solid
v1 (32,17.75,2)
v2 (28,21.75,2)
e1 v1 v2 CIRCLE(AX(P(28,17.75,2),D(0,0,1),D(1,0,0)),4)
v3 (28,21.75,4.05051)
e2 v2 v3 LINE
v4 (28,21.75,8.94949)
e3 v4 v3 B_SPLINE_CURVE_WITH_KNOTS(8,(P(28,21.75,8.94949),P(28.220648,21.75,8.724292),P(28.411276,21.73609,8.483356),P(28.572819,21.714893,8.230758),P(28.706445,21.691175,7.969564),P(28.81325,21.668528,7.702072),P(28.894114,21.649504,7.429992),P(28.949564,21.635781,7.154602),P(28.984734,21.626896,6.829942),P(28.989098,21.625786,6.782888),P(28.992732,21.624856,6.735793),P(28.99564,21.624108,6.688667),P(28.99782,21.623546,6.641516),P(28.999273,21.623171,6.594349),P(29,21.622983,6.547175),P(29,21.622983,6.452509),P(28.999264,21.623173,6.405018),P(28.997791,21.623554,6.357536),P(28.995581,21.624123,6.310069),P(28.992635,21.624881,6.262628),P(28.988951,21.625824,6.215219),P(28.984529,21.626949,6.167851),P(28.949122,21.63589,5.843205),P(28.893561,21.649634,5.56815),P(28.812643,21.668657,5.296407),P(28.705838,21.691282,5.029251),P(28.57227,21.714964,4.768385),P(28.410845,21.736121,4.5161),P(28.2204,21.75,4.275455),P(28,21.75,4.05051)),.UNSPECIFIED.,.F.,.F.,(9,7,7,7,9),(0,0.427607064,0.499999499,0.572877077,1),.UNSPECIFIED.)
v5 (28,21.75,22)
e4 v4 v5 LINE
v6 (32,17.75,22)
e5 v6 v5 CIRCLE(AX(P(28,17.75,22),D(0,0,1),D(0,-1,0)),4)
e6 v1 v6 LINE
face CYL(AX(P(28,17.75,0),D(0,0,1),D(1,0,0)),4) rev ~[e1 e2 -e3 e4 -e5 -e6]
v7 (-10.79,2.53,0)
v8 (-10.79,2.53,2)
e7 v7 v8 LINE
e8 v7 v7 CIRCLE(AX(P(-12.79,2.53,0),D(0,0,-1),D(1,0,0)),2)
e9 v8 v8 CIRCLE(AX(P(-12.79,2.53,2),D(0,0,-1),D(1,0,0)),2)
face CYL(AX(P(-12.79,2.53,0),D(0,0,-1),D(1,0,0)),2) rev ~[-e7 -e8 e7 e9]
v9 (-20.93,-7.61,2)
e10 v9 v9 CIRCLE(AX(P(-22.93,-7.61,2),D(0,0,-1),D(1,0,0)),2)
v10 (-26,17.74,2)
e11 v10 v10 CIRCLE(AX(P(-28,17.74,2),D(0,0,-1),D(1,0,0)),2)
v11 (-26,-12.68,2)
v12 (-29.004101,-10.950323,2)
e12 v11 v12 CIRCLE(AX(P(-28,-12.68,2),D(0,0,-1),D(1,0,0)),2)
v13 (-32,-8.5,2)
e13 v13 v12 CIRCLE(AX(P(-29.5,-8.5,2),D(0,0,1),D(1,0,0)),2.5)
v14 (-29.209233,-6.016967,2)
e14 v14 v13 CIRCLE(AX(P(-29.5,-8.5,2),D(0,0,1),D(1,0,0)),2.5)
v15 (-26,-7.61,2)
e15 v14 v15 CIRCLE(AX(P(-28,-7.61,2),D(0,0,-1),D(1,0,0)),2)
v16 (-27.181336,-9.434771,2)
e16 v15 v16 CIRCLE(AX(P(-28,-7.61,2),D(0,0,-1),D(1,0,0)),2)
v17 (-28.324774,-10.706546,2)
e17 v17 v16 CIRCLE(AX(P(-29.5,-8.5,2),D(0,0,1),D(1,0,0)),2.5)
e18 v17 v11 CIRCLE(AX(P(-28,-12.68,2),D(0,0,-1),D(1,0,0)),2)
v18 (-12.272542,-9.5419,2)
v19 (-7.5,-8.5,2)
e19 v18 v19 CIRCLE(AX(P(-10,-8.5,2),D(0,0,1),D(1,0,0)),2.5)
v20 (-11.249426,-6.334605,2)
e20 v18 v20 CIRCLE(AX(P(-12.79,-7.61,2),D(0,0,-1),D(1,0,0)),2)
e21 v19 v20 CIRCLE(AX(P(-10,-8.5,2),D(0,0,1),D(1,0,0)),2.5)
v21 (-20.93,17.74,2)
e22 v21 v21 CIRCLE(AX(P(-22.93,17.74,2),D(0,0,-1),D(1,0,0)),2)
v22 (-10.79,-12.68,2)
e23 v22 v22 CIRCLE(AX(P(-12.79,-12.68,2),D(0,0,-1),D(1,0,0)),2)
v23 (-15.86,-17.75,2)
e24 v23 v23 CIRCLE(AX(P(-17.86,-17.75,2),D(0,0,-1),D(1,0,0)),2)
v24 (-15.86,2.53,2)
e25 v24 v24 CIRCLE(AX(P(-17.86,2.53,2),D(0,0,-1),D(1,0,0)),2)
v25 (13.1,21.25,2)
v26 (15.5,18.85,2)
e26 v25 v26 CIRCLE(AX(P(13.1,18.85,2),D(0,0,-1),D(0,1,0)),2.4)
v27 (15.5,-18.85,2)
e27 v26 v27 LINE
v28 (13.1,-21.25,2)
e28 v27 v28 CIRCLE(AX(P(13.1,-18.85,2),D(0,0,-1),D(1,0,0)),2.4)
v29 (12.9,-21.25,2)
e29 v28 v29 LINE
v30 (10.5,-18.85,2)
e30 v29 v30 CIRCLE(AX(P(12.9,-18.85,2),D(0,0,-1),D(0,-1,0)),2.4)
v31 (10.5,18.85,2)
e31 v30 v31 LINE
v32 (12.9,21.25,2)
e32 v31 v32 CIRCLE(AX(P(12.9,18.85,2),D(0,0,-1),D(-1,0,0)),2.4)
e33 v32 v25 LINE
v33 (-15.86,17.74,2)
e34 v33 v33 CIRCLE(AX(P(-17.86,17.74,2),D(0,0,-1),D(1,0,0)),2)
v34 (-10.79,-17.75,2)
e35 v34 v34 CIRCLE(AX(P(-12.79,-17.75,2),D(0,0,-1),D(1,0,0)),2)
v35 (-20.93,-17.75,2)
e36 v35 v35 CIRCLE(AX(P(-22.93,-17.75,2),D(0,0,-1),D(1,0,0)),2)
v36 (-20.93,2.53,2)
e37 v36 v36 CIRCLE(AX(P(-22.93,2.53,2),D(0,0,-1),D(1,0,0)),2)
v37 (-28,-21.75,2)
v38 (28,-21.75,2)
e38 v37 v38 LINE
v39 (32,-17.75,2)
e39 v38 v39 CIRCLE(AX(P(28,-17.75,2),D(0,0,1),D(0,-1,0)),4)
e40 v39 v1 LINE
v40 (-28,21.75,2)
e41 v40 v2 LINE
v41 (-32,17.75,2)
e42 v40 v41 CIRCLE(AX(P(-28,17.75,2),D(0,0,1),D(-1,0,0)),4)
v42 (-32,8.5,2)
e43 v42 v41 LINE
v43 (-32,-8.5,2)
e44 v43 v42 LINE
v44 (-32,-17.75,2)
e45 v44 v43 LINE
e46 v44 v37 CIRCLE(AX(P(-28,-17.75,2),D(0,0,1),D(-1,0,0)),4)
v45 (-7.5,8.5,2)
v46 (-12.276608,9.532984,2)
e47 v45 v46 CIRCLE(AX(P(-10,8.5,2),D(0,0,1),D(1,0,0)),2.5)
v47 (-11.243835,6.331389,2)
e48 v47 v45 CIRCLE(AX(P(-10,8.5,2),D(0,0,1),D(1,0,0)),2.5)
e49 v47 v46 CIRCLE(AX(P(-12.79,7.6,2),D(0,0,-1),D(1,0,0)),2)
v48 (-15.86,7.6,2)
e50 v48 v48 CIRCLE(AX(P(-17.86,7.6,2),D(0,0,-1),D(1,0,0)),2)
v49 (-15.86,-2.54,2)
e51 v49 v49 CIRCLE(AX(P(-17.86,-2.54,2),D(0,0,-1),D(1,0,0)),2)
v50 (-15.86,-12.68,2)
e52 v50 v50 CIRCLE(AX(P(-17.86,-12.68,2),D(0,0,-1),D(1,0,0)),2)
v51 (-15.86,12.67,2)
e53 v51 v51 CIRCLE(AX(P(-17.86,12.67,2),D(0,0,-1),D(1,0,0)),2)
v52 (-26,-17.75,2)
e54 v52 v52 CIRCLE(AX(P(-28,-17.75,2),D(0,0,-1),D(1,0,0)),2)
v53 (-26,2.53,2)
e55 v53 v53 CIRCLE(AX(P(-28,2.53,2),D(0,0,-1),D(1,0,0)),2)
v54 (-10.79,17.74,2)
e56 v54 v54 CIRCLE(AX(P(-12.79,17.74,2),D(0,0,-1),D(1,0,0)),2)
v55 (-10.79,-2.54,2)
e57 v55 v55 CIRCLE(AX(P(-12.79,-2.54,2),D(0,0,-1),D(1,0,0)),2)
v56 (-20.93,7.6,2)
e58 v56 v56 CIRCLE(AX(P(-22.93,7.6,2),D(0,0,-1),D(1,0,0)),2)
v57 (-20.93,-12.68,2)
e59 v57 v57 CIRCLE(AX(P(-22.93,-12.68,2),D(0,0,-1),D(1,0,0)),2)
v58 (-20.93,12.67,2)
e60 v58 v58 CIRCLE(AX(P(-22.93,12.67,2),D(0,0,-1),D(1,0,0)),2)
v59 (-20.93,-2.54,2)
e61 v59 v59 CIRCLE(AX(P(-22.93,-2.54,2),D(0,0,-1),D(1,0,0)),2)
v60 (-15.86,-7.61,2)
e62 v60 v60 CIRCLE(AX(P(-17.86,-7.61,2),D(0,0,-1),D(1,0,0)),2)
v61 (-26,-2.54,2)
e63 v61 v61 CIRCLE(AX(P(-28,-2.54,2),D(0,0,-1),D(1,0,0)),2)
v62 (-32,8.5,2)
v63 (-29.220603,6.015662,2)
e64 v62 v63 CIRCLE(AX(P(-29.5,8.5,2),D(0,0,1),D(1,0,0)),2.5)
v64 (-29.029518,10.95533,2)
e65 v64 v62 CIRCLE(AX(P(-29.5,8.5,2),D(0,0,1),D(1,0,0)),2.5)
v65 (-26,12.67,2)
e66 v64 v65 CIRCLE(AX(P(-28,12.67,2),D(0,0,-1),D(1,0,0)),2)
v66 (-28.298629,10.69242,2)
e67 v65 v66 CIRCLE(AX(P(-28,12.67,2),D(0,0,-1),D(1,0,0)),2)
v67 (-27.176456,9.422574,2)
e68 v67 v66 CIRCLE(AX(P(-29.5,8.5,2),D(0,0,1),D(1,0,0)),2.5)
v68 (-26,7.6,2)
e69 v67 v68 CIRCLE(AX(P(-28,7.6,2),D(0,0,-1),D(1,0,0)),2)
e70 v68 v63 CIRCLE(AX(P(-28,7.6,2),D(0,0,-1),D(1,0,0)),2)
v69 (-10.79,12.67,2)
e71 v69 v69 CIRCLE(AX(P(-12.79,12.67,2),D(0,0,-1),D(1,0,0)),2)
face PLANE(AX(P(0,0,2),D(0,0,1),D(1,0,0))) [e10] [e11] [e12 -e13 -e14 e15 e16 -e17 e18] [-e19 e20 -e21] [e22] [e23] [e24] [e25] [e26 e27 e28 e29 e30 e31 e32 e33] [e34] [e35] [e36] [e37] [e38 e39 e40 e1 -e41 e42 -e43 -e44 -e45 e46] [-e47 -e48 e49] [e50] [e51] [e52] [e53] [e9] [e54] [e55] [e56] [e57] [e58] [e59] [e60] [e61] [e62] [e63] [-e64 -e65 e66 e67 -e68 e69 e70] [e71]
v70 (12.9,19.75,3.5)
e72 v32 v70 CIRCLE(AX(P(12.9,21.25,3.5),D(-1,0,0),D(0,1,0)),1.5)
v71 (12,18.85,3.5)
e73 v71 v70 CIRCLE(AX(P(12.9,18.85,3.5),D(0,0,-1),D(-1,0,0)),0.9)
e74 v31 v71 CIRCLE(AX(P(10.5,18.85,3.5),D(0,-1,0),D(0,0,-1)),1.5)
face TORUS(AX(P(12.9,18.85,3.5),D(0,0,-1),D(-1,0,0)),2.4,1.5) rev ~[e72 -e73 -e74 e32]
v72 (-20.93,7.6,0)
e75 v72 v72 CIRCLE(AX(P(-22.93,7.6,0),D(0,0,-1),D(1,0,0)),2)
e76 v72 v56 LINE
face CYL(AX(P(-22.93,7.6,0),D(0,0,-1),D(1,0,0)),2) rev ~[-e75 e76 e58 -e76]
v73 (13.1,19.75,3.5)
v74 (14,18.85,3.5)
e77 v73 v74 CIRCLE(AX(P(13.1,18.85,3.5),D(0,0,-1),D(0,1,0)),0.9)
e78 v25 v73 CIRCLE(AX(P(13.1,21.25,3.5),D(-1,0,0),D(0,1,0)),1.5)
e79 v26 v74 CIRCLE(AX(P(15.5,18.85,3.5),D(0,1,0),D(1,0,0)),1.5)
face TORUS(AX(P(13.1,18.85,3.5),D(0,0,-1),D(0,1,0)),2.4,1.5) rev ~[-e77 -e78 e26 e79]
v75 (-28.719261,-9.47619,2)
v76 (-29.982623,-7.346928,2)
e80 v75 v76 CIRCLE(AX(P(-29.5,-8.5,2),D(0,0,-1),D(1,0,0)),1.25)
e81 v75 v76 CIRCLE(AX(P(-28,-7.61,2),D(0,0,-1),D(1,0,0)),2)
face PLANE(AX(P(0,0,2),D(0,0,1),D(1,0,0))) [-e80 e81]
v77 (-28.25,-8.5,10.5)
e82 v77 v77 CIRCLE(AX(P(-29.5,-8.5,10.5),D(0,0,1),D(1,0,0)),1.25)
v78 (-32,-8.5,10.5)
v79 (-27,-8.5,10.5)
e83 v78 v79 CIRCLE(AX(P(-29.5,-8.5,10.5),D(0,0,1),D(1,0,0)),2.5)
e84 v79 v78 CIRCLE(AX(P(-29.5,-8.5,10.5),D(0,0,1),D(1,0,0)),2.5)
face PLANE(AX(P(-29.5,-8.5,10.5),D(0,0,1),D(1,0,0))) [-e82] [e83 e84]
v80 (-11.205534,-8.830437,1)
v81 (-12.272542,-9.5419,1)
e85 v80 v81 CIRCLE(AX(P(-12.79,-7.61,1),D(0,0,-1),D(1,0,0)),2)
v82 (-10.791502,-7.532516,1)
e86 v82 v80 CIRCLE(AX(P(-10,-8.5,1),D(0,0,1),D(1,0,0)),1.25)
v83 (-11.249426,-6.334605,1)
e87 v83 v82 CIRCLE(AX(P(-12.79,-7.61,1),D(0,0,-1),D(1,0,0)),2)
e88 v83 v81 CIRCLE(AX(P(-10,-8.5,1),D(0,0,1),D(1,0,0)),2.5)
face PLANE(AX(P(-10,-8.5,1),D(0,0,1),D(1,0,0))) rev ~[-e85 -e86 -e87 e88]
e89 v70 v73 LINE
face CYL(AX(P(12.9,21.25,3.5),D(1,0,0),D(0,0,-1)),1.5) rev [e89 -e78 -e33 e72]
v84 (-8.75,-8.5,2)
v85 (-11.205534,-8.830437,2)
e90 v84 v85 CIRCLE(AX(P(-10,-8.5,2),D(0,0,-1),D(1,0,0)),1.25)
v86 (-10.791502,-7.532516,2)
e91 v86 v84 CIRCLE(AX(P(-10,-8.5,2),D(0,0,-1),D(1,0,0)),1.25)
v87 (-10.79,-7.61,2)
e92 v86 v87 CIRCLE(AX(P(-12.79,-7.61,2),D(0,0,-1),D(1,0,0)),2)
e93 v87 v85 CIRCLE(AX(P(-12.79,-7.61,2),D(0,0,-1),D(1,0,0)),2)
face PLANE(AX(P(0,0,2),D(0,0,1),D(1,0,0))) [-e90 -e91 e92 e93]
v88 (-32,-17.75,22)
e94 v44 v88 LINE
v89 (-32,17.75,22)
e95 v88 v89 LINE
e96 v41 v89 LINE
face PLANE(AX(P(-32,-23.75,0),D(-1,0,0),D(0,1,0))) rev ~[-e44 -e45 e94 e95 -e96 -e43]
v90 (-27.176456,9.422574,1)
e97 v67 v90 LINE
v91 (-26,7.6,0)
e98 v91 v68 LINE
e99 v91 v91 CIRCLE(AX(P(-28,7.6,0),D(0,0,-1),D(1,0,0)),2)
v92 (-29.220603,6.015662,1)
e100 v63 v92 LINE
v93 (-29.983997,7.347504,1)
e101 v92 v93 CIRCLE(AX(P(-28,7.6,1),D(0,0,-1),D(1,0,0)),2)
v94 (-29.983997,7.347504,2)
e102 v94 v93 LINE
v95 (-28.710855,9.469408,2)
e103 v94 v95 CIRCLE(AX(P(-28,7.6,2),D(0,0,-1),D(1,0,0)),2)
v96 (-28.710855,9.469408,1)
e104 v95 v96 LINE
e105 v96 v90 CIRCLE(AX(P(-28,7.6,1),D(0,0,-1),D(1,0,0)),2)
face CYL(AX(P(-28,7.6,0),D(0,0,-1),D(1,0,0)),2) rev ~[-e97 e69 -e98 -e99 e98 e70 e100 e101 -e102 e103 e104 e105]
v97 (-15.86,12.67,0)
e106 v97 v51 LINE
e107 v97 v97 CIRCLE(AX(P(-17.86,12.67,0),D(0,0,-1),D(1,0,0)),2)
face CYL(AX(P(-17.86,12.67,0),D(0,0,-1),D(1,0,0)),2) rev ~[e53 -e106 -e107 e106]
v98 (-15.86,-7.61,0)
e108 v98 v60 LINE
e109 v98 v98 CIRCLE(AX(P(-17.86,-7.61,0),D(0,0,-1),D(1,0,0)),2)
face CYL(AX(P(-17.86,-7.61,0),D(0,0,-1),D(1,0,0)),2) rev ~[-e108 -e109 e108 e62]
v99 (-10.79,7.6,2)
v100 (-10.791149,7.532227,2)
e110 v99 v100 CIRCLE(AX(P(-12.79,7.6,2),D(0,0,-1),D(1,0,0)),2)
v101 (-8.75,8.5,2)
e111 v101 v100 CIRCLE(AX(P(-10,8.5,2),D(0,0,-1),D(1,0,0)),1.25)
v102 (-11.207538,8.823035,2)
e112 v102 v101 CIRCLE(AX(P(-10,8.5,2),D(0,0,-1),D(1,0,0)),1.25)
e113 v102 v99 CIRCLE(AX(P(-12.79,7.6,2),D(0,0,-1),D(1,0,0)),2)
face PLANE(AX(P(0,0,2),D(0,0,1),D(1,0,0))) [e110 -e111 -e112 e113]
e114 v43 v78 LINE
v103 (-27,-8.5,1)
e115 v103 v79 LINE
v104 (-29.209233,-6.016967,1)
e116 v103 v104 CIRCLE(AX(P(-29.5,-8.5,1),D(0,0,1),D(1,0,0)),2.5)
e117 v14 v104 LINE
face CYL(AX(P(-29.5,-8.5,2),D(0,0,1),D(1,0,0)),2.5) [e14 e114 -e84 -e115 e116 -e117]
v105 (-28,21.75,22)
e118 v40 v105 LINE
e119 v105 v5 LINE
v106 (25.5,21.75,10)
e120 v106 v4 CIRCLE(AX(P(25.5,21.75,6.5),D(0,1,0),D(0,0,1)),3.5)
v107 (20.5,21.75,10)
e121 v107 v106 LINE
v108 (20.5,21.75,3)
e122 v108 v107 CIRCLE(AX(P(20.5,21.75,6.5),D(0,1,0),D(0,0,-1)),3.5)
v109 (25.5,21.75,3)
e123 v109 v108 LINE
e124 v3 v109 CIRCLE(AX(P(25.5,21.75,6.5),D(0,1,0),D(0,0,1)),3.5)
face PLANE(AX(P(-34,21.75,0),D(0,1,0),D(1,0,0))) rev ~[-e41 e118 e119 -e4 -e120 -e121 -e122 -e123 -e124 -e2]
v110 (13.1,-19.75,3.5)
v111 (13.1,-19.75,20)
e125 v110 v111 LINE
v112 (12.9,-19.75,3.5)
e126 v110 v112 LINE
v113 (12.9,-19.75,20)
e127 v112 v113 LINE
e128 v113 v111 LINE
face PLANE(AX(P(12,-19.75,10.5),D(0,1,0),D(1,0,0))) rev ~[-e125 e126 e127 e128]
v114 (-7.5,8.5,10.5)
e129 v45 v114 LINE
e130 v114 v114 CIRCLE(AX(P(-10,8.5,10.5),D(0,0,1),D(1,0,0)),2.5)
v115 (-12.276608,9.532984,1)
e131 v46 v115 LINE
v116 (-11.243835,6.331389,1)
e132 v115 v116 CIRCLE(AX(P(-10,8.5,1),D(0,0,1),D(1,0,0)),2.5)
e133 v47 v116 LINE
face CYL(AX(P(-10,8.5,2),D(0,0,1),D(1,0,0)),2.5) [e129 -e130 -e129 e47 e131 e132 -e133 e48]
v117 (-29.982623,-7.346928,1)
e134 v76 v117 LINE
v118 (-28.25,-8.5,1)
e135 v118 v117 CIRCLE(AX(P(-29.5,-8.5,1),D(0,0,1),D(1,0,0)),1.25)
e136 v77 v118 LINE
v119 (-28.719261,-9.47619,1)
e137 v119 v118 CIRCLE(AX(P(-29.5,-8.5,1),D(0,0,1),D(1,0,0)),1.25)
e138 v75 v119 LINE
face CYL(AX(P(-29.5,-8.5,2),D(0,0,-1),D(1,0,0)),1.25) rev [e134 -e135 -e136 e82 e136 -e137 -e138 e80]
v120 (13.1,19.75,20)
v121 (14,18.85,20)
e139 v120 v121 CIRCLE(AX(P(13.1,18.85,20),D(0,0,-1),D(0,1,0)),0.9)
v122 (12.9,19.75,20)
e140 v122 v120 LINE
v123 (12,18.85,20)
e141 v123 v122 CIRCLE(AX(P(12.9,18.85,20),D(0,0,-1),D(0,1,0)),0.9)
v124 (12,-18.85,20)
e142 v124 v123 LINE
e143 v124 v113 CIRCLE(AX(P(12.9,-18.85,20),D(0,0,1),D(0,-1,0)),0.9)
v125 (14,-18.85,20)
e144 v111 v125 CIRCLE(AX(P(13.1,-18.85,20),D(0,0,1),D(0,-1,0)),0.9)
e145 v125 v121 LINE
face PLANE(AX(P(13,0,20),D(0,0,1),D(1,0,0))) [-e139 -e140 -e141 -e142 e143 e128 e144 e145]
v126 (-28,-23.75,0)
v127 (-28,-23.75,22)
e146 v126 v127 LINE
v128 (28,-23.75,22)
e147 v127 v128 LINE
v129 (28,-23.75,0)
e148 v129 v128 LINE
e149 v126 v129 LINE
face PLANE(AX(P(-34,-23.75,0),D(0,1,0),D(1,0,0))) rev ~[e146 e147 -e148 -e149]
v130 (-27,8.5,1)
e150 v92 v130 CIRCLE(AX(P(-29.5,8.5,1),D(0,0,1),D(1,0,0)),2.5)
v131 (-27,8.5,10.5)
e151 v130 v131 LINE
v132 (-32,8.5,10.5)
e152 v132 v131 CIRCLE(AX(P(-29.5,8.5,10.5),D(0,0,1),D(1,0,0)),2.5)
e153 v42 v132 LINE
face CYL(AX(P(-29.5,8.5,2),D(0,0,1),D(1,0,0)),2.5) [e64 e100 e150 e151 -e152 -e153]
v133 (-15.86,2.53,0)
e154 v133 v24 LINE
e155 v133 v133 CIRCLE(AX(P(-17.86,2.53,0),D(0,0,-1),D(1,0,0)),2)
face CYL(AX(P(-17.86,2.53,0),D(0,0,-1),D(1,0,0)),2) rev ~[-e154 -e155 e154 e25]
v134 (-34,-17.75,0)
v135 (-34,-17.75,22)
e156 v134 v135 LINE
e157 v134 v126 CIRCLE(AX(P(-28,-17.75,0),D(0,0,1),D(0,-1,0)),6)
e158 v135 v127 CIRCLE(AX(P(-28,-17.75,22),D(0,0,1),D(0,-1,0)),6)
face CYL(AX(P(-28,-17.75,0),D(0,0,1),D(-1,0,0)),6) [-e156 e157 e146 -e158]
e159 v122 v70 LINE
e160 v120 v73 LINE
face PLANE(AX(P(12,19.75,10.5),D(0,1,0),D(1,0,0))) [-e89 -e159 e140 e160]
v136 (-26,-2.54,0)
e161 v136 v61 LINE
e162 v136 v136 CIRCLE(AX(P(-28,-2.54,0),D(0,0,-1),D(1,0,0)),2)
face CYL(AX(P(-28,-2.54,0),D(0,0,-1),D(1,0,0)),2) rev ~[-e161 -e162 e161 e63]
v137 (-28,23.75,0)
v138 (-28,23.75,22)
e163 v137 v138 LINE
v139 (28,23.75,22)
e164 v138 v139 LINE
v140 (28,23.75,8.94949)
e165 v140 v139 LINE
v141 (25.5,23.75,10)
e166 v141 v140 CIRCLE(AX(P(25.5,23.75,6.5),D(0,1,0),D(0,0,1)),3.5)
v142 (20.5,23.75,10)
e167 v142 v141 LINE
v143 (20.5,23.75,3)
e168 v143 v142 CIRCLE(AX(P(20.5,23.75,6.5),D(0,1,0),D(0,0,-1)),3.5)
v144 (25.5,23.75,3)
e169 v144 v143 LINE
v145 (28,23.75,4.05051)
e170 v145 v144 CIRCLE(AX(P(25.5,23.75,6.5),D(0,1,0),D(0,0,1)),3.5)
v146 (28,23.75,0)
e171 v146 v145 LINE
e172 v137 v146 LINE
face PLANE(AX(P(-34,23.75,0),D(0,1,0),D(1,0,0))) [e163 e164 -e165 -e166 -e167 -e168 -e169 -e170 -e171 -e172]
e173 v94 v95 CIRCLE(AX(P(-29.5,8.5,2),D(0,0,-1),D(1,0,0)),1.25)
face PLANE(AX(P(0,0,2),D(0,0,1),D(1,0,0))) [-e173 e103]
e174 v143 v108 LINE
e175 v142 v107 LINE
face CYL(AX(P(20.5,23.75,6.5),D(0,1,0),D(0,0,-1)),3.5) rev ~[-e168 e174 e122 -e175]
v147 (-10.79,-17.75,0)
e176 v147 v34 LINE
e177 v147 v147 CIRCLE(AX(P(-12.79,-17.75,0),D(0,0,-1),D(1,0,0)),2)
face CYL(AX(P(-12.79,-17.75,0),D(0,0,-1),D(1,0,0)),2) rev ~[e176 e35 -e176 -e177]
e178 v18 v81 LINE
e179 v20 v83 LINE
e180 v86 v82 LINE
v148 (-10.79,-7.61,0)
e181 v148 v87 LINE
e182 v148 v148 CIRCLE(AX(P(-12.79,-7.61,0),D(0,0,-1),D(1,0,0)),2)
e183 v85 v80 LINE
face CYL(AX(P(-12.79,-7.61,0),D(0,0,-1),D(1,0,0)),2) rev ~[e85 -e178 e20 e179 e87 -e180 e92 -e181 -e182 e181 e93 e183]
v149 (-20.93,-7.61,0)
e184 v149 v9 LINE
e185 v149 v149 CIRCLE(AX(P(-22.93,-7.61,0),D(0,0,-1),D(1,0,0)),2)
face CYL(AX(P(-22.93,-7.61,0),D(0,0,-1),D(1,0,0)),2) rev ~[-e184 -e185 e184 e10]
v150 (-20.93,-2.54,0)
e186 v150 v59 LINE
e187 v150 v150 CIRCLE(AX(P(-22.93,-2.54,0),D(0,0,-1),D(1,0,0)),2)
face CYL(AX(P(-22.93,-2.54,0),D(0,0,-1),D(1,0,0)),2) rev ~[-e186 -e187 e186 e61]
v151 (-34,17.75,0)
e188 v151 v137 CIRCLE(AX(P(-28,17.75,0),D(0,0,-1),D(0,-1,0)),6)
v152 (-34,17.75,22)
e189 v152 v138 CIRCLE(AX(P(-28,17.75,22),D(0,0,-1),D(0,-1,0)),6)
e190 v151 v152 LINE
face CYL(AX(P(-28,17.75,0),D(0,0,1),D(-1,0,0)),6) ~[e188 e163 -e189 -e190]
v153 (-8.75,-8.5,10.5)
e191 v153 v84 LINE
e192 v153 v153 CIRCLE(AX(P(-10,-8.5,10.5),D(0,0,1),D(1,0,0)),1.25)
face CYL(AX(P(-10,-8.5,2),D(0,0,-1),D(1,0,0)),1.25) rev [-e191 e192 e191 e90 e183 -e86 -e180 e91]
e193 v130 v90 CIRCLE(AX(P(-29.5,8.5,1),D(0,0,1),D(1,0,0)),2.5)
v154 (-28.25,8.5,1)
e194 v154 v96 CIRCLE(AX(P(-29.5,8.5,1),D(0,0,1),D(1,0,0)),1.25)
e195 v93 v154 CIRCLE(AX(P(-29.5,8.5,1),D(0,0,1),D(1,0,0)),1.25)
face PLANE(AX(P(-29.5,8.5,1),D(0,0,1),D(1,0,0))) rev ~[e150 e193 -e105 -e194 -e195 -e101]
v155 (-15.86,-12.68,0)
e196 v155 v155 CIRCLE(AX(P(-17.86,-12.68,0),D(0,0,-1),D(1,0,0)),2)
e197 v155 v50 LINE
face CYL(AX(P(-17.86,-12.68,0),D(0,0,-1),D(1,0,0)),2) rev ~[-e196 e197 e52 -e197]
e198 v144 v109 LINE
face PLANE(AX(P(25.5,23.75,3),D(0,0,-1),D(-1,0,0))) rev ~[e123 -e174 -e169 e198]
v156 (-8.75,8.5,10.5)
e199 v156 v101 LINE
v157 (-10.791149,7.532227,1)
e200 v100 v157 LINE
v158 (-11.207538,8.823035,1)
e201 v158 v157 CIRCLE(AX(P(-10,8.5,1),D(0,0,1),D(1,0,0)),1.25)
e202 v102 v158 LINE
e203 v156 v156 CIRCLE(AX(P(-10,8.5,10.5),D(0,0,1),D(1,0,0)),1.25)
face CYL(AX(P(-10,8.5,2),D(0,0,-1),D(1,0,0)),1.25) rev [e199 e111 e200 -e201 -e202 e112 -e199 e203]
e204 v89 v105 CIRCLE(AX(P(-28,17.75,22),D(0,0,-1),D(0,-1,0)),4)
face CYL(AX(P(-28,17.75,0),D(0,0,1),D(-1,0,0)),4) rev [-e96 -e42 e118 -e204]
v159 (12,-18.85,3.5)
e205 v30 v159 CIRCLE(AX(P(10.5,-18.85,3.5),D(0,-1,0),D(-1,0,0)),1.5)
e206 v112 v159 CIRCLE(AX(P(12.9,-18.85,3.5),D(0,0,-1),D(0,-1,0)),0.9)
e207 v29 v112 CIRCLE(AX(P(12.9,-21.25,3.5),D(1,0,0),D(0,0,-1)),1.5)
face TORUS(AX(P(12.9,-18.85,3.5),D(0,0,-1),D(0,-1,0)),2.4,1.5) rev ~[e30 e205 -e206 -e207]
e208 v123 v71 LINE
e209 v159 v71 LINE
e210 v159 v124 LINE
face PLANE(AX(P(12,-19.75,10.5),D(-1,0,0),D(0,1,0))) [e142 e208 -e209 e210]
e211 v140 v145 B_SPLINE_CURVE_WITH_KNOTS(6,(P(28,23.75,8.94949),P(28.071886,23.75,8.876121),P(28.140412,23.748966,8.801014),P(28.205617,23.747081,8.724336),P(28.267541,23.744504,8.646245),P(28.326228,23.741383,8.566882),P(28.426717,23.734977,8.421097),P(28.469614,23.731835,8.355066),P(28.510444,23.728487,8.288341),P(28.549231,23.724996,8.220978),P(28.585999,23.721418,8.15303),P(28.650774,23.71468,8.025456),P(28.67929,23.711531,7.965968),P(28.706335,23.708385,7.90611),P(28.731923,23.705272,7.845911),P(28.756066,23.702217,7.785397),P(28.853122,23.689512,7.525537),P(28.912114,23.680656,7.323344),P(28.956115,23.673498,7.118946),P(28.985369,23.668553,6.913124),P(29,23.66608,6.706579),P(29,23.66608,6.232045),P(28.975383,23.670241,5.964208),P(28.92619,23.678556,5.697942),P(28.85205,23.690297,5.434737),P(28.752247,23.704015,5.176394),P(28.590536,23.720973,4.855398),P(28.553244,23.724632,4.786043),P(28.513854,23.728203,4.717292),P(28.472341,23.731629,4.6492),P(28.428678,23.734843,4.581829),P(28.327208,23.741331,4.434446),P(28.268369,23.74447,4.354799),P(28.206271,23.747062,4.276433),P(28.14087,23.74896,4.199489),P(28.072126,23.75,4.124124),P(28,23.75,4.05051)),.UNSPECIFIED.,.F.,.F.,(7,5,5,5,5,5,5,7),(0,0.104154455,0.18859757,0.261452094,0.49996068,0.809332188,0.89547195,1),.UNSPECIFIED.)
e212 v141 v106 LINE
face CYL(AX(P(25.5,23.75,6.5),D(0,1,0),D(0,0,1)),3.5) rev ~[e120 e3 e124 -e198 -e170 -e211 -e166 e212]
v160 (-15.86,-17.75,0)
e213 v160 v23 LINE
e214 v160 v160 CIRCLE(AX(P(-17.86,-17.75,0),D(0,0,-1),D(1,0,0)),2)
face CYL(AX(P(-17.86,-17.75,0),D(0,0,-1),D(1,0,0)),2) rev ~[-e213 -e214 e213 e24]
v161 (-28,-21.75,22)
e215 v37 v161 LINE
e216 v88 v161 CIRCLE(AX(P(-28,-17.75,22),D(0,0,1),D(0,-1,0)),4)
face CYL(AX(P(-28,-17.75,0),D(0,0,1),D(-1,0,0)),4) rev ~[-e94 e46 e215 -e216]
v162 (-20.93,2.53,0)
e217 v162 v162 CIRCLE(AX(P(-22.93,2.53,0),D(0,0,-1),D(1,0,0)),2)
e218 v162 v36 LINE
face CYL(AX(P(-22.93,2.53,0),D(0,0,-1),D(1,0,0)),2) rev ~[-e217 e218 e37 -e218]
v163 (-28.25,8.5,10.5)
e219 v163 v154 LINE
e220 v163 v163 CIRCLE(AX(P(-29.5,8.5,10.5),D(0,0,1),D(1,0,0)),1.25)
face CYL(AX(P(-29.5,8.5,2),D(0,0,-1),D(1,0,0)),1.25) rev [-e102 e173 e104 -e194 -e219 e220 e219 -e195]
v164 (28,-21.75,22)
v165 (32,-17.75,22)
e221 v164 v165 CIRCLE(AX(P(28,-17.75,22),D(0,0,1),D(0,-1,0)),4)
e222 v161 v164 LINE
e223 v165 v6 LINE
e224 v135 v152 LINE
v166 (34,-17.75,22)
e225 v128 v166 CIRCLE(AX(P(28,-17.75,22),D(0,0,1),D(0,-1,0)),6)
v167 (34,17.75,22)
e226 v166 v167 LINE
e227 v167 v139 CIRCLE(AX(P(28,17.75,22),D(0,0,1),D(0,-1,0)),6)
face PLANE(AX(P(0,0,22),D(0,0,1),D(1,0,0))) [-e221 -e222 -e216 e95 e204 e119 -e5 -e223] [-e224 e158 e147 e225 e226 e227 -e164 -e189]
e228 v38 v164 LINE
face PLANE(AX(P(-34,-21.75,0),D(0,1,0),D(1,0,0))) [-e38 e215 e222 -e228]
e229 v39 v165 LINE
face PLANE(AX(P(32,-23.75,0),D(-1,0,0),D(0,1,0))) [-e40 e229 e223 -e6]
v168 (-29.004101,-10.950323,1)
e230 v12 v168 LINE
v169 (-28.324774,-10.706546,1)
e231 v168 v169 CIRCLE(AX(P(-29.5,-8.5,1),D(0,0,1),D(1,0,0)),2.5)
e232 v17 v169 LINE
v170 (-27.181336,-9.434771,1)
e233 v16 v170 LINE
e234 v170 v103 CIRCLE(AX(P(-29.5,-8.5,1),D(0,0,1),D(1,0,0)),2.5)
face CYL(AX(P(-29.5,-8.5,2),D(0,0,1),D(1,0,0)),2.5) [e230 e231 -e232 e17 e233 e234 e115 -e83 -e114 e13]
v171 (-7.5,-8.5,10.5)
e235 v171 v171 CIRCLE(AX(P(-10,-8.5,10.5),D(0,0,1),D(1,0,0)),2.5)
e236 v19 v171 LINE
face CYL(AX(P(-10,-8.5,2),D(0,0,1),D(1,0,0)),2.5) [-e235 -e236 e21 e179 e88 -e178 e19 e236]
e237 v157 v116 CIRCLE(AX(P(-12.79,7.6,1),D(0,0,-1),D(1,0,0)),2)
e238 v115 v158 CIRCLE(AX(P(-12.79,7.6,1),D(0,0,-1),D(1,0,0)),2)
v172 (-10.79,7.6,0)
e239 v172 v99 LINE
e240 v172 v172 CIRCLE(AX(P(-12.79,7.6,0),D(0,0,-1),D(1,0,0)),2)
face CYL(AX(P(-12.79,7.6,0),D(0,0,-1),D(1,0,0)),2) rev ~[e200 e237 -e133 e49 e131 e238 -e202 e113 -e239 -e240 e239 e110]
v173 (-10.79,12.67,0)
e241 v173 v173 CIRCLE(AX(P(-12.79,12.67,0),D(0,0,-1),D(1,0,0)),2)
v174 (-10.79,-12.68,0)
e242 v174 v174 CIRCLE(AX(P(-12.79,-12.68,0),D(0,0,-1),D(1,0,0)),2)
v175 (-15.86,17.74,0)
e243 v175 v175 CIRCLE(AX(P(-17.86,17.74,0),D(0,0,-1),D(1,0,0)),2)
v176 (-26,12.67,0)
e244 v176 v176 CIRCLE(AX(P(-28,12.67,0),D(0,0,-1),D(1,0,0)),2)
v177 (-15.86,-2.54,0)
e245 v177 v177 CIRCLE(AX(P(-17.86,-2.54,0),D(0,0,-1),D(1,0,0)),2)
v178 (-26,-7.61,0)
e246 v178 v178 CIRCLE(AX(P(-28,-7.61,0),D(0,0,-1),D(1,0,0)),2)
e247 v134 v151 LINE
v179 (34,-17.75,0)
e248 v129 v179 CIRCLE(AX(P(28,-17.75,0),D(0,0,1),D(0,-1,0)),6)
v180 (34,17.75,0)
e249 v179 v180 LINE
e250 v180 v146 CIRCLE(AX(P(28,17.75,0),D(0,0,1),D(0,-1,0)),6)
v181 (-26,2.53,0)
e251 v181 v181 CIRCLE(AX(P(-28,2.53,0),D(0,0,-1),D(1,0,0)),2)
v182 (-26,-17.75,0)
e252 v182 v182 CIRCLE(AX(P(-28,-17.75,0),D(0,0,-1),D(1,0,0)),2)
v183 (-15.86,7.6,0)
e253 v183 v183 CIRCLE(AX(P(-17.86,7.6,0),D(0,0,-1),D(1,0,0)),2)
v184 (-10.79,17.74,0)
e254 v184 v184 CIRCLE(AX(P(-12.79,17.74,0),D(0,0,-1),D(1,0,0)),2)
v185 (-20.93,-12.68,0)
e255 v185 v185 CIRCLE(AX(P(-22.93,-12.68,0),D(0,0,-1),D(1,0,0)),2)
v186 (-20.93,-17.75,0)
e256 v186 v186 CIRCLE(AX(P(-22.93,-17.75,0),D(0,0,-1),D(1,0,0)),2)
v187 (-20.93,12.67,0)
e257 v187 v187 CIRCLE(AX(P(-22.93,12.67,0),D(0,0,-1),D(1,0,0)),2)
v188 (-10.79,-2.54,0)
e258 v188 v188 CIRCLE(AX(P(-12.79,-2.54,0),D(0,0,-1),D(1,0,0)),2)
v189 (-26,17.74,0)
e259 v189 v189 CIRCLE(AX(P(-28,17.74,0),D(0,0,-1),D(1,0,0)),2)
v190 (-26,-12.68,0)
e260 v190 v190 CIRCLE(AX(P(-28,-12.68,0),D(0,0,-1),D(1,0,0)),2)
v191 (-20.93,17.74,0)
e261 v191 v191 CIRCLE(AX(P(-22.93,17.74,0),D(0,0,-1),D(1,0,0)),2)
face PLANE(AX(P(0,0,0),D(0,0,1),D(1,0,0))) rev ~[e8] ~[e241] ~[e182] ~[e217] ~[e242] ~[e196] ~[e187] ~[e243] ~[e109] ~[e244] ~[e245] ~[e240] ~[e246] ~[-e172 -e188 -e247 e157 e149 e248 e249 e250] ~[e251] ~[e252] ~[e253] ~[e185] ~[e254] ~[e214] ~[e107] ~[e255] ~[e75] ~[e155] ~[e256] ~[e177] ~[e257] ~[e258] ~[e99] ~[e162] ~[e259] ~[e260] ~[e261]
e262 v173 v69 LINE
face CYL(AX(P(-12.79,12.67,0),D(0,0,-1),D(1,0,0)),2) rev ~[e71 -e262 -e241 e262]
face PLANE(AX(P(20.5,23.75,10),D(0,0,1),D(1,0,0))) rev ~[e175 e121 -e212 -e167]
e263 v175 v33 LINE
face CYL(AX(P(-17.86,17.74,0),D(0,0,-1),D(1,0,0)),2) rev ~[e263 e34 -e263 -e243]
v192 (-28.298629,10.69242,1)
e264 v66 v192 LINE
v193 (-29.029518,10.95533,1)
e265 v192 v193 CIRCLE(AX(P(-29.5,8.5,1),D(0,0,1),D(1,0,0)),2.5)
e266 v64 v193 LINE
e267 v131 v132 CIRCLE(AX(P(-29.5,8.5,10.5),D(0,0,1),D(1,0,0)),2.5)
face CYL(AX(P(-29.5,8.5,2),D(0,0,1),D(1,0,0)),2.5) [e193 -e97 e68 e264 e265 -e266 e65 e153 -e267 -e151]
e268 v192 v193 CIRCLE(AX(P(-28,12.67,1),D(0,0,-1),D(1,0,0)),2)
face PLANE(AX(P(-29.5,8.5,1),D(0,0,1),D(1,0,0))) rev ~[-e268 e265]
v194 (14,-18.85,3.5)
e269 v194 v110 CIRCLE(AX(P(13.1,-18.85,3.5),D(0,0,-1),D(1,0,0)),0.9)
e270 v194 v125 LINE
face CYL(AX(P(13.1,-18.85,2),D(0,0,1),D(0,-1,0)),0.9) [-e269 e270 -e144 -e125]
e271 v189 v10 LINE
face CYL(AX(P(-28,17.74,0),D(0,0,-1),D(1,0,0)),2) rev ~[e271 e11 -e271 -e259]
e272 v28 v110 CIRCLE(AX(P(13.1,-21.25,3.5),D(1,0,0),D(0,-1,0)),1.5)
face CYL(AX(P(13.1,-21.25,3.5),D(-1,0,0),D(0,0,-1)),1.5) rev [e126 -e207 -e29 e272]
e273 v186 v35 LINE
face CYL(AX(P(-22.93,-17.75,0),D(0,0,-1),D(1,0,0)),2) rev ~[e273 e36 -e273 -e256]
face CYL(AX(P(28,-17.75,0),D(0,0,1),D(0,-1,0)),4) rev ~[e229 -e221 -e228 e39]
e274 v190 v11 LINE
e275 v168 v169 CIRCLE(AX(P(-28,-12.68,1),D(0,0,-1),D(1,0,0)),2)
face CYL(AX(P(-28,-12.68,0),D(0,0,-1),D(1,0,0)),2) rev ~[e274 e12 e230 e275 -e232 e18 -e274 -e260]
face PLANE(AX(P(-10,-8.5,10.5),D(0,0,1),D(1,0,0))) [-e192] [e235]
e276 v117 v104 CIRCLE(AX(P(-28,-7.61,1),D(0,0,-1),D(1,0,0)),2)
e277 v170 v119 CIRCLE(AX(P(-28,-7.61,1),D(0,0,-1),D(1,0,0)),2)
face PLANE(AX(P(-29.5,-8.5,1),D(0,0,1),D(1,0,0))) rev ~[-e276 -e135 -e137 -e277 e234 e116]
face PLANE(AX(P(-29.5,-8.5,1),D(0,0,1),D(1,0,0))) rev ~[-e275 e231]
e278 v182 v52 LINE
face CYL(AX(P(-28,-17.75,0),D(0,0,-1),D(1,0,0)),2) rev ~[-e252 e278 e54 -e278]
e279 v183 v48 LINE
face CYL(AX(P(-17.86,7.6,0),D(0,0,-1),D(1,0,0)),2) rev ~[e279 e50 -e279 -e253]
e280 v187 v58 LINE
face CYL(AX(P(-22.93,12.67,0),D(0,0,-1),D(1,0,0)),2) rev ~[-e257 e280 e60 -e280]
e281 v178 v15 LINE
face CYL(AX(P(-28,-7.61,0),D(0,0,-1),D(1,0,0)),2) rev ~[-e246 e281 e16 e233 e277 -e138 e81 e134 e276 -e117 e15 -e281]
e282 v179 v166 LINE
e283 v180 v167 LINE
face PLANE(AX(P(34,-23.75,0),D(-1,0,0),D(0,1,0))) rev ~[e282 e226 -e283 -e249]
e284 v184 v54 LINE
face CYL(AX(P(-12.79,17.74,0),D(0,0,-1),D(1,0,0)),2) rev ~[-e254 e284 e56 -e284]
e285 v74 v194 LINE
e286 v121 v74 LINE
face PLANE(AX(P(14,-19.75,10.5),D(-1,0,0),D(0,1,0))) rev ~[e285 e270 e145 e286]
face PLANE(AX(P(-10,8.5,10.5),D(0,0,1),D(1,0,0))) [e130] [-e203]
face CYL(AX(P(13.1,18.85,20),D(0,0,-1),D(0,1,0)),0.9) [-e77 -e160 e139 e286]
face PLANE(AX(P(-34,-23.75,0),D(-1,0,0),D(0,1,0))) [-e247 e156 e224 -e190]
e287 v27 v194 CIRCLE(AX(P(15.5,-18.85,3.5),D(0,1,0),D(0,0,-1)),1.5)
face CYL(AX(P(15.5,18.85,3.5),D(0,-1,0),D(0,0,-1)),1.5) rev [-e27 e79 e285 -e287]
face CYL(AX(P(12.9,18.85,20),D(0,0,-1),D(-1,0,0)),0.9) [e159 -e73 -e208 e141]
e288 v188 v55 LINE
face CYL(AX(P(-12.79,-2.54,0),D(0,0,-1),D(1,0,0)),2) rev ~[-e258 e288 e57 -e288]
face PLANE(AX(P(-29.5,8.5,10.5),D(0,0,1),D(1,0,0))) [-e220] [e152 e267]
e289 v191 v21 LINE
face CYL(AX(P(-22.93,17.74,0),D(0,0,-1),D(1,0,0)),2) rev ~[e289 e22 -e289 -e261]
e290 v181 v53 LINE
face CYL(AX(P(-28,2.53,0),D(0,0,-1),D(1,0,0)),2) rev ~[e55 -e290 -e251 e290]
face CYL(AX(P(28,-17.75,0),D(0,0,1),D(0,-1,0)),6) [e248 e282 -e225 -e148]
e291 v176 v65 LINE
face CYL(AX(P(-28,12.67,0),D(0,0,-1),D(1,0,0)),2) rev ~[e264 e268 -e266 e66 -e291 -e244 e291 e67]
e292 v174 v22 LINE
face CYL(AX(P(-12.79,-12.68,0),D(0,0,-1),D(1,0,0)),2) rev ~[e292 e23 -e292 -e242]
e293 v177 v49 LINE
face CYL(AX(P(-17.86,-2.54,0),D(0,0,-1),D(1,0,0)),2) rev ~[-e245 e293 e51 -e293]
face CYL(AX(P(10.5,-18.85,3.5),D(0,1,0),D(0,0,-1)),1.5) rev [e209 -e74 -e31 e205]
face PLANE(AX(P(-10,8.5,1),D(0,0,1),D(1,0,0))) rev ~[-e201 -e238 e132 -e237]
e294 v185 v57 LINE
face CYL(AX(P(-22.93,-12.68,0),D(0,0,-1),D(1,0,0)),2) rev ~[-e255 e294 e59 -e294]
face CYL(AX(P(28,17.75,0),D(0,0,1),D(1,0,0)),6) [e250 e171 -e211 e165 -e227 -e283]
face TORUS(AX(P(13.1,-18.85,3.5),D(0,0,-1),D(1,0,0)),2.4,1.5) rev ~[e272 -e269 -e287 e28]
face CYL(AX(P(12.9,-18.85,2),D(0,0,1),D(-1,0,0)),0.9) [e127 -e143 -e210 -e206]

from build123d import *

# Parameters (mm, degrees)
SKETCH002_W           = 2
SKETCH002_H           = 39.5
EXTRUDE002_DEPTH      = 9.5
SKETCH001_R           = 2.5
SKETCH001_R_2         = 1.25
SKETCH001_W           = 2
SKETCH001_H           = 39.5
EXTRUDE001_DEPTH      = 8.5
EXTRUDE001_DEPTH_BACK = 1
SKETCH005_R           = 2
EXTRUDE004_DEPTH      = 2
SKETCH_W              = 68
SKETCH_H              = 47.5
EXTRUDE_DEPTH         = 22
FILLET_R              = 6
THICKNESS_T           = -2
FILLET001_R           = 0.9
FILLET002_R           = 1.5
POCKET001_DEPTH       = 5


with BuildPart() as extrude002:
    # Sketch002 (on Face6 of Extrude001) → Extrude002 (new body)
    with BuildSketch(Plane.XY.offset(10.5)):
        with Locations((13, 0)):
            Rectangle(SKETCH002_W, SKETCH002_H)
    extrude(amount=EXTRUDE002_DEPTH)


with BuildPart() as fusion:
    # Sketch001 (on Face19 of Thickness) → Extrude001 (new body, two sides)
    with BuildSketch(Plane.XY.offset(2)) as extrude001_sk:
        with Locations((-29.5, 8.5)):
            Circle(SKETCH001_R)
        with Locations((-29.5, 8.5)):
            Circle(SKETCH001_R_2, mode=Mode.SUBTRACT)
        with Locations((-10, 8.5)):
            Circle(SKETCH001_R)
        with Locations((-10, 8.5)):
            Circle(SKETCH001_R_2, mode=Mode.SUBTRACT)
        with Locations((-29.5, -8.5)):
            Circle(SKETCH001_R)
        with Locations((-29.5, -8.5)):
            Circle(SKETCH001_R_2, mode=Mode.SUBTRACT)
        with Locations((-10, -8.5)):
            Circle(SKETCH001_R)
        with Locations((-10, -8.5)):
            Circle(SKETCH001_R_2, mode=Mode.SUBTRACT)
        with Locations((13, 0)):
            Rectangle(SKETCH001_W, SKETCH001_H)
    extrude(amount=EXTRUDE001_DEPTH)
    extrude(extrude001_sk.sketch, amount=-EXTRUDE001_DEPTH_BACK)

    # Fusion: union Extrude002
    add(extrude002.part)


with BuildPart() as extrude004:
    # Sketch005 (on Face2 of Thickness) → Extrude004 (new body)
    with BuildSketch(Plane(origin=(0, 0, 0), x_dir=(1, 0, 0), z_dir=(0, 0, -1))):
        with Locations((-28, 17.75)):
            Circle(SKETCH005_R)
        with Locations((-22.93, 17.75)):
            Circle(SKETCH005_R)
        with Locations((-17.86, 17.75)):
            Circle(SKETCH005_R)
        with Locations((-12.79, 17.75)):
            Circle(SKETCH005_R)
        with Locations((-28, 12.68)):
            Circle(SKETCH005_R)
        with Locations((-22.93, 12.68)):
            Circle(SKETCH005_R)
        with Locations((-17.86, 12.68)):
            Circle(SKETCH005_R)
        with Locations((-12.79, 12.68)):
            Circle(SKETCH005_R)
        with Locations((-28, 7.61)):
            Circle(SKETCH005_R)
        with Locations((-22.93, 7.61)):
            Circle(SKETCH005_R)
        with Locations((-17.86, 7.61)):
            Circle(SKETCH005_R)
        with Locations((-12.79, 7.61)):
            Circle(SKETCH005_R)
        with Locations((-28, 2.54)):
            Circle(SKETCH005_R)
        with Locations((-22.93, 2.54)):
            Circle(SKETCH005_R)
        with Locations((-17.86, 2.54)):
            Circle(SKETCH005_R)
        with Locations((-12.79, 2.54)):
            Circle(SKETCH005_R)
        with Locations((-28, -2.53)):
            Circle(SKETCH005_R)
        with Locations((-22.93, -2.53)):
            Circle(SKETCH005_R)
        with Locations((-17.86, -2.53)):
            Circle(SKETCH005_R)
        with Locations((-12.79, -2.53)):
            Circle(SKETCH005_R)
        with Locations((-28, -7.6)):
            Circle(SKETCH005_R)
        with Locations((-22.93, -7.6)):
            Circle(SKETCH005_R)
        with Locations((-17.86, -7.6)):
            Circle(SKETCH005_R)
        with Locations((-12.79, -7.6)):
            Circle(SKETCH005_R)
        with Locations((-28, -12.67)):
            Circle(SKETCH005_R)
        with Locations((-22.93, -12.67)):
            Circle(SKETCH005_R)
        with Locations((-17.86, -12.67)):
            Circle(SKETCH005_R)
        with Locations((-12.79, -12.67)):
            Circle(SKETCH005_R)
        with Locations((-28, -17.74)):
            Circle(SKETCH005_R)
        with Locations((-22.93, -17.74)):
            Circle(SKETCH005_R)
        with Locations((-17.86, -17.74)):
            Circle(SKETCH005_R)
        with Locations((-12.79, -17.74)):
            Circle(SKETCH005_R)
    extrude(amount=-EXTRUDE004_DEPTH)


with BuildPart() as body003:
    # Sketch → Extrude (new body)
    with BuildSketch(Plane.XY):
        Rectangle(SKETCH_W, SKETCH_H)
    extrude(amount=EXTRUDE_DEPTH)

    # Fillet
    fillet_edges = [body003.edges().sort_by_distance(p)[0] for p in [
        (-34, 23.75, 11),
        (34, 23.75, 11),
        (34, -23.75, 11),
        (-34, -23.75, 11),
    ]]
    fillet(fillet_edges, radius=FILLET_R)

    # Thickness
    thickness_openings = [body003.faces().sort_by_distance(p)[0] for p in [
        (0, 0, 22),
    ]]
    offset(amount=THICKNESS_T, openings=thickness_openings)

    # Cut: cut Extrude004
    add(extrude004.part, mode=Mode.SUBTRACT)

    # Fusion001: union Fusion
    add(fusion.part)

    # Fillet001
    fillet001_edges = [body003.edges().sort_by_distance(p)[0] for p in [
        (14, 19.75, 6.25),
        (12, 19.75, 6.25),
        (12, -19.75, 6.25),
        (14, -19.75, 6.25),
        (12, 19.75, 15.25),
        (14, 19.75, 15.25),
        (12, -19.75, 15.25),
        (14, -19.75, 15.25),
    ]]
    fillet(fillet001_edges, radius=FILLET001_R)

    # Fillet002
    fillet002_edges = [body003.edges().sort_by_distance(p)[0] for p in [
        (13.736396, 19.486396, 2),
        (14, 0, 2),
        (13.736396, -19.486396, 2),
        (13, -19.75, 2),
        (12.263604, -19.486396, 2),
        (12, 0, 2),
        (12.263604, 19.486396, 2),
    ]]
    fillet(fillet002_edges, radius=FILLET002_R)

    # Sketch006 (on Face92 of Fillet002) → Pocket001 (cut)
    with BuildSketch(Plane(origin=(0, 23.75, 0), x_dir=(-1, 0, 0), z_dir=(0, 1, 0))):
        with BuildLine():
            ThreePointArc((-25.5, 10), (-29, 6.5), (-25.5, 3))
            Line((-25.5, 3), (-20.5, 3))
            ThreePointArc((-20.5, 3), (-17, 6.5), (-20.5, 10))
            Line((-20.5, 10), (-25.5, 10))
        make_face()
    extrude(amount=-POCKET001_DEPTH, mode=Mode.SUBTRACT)


solid = body003.part
